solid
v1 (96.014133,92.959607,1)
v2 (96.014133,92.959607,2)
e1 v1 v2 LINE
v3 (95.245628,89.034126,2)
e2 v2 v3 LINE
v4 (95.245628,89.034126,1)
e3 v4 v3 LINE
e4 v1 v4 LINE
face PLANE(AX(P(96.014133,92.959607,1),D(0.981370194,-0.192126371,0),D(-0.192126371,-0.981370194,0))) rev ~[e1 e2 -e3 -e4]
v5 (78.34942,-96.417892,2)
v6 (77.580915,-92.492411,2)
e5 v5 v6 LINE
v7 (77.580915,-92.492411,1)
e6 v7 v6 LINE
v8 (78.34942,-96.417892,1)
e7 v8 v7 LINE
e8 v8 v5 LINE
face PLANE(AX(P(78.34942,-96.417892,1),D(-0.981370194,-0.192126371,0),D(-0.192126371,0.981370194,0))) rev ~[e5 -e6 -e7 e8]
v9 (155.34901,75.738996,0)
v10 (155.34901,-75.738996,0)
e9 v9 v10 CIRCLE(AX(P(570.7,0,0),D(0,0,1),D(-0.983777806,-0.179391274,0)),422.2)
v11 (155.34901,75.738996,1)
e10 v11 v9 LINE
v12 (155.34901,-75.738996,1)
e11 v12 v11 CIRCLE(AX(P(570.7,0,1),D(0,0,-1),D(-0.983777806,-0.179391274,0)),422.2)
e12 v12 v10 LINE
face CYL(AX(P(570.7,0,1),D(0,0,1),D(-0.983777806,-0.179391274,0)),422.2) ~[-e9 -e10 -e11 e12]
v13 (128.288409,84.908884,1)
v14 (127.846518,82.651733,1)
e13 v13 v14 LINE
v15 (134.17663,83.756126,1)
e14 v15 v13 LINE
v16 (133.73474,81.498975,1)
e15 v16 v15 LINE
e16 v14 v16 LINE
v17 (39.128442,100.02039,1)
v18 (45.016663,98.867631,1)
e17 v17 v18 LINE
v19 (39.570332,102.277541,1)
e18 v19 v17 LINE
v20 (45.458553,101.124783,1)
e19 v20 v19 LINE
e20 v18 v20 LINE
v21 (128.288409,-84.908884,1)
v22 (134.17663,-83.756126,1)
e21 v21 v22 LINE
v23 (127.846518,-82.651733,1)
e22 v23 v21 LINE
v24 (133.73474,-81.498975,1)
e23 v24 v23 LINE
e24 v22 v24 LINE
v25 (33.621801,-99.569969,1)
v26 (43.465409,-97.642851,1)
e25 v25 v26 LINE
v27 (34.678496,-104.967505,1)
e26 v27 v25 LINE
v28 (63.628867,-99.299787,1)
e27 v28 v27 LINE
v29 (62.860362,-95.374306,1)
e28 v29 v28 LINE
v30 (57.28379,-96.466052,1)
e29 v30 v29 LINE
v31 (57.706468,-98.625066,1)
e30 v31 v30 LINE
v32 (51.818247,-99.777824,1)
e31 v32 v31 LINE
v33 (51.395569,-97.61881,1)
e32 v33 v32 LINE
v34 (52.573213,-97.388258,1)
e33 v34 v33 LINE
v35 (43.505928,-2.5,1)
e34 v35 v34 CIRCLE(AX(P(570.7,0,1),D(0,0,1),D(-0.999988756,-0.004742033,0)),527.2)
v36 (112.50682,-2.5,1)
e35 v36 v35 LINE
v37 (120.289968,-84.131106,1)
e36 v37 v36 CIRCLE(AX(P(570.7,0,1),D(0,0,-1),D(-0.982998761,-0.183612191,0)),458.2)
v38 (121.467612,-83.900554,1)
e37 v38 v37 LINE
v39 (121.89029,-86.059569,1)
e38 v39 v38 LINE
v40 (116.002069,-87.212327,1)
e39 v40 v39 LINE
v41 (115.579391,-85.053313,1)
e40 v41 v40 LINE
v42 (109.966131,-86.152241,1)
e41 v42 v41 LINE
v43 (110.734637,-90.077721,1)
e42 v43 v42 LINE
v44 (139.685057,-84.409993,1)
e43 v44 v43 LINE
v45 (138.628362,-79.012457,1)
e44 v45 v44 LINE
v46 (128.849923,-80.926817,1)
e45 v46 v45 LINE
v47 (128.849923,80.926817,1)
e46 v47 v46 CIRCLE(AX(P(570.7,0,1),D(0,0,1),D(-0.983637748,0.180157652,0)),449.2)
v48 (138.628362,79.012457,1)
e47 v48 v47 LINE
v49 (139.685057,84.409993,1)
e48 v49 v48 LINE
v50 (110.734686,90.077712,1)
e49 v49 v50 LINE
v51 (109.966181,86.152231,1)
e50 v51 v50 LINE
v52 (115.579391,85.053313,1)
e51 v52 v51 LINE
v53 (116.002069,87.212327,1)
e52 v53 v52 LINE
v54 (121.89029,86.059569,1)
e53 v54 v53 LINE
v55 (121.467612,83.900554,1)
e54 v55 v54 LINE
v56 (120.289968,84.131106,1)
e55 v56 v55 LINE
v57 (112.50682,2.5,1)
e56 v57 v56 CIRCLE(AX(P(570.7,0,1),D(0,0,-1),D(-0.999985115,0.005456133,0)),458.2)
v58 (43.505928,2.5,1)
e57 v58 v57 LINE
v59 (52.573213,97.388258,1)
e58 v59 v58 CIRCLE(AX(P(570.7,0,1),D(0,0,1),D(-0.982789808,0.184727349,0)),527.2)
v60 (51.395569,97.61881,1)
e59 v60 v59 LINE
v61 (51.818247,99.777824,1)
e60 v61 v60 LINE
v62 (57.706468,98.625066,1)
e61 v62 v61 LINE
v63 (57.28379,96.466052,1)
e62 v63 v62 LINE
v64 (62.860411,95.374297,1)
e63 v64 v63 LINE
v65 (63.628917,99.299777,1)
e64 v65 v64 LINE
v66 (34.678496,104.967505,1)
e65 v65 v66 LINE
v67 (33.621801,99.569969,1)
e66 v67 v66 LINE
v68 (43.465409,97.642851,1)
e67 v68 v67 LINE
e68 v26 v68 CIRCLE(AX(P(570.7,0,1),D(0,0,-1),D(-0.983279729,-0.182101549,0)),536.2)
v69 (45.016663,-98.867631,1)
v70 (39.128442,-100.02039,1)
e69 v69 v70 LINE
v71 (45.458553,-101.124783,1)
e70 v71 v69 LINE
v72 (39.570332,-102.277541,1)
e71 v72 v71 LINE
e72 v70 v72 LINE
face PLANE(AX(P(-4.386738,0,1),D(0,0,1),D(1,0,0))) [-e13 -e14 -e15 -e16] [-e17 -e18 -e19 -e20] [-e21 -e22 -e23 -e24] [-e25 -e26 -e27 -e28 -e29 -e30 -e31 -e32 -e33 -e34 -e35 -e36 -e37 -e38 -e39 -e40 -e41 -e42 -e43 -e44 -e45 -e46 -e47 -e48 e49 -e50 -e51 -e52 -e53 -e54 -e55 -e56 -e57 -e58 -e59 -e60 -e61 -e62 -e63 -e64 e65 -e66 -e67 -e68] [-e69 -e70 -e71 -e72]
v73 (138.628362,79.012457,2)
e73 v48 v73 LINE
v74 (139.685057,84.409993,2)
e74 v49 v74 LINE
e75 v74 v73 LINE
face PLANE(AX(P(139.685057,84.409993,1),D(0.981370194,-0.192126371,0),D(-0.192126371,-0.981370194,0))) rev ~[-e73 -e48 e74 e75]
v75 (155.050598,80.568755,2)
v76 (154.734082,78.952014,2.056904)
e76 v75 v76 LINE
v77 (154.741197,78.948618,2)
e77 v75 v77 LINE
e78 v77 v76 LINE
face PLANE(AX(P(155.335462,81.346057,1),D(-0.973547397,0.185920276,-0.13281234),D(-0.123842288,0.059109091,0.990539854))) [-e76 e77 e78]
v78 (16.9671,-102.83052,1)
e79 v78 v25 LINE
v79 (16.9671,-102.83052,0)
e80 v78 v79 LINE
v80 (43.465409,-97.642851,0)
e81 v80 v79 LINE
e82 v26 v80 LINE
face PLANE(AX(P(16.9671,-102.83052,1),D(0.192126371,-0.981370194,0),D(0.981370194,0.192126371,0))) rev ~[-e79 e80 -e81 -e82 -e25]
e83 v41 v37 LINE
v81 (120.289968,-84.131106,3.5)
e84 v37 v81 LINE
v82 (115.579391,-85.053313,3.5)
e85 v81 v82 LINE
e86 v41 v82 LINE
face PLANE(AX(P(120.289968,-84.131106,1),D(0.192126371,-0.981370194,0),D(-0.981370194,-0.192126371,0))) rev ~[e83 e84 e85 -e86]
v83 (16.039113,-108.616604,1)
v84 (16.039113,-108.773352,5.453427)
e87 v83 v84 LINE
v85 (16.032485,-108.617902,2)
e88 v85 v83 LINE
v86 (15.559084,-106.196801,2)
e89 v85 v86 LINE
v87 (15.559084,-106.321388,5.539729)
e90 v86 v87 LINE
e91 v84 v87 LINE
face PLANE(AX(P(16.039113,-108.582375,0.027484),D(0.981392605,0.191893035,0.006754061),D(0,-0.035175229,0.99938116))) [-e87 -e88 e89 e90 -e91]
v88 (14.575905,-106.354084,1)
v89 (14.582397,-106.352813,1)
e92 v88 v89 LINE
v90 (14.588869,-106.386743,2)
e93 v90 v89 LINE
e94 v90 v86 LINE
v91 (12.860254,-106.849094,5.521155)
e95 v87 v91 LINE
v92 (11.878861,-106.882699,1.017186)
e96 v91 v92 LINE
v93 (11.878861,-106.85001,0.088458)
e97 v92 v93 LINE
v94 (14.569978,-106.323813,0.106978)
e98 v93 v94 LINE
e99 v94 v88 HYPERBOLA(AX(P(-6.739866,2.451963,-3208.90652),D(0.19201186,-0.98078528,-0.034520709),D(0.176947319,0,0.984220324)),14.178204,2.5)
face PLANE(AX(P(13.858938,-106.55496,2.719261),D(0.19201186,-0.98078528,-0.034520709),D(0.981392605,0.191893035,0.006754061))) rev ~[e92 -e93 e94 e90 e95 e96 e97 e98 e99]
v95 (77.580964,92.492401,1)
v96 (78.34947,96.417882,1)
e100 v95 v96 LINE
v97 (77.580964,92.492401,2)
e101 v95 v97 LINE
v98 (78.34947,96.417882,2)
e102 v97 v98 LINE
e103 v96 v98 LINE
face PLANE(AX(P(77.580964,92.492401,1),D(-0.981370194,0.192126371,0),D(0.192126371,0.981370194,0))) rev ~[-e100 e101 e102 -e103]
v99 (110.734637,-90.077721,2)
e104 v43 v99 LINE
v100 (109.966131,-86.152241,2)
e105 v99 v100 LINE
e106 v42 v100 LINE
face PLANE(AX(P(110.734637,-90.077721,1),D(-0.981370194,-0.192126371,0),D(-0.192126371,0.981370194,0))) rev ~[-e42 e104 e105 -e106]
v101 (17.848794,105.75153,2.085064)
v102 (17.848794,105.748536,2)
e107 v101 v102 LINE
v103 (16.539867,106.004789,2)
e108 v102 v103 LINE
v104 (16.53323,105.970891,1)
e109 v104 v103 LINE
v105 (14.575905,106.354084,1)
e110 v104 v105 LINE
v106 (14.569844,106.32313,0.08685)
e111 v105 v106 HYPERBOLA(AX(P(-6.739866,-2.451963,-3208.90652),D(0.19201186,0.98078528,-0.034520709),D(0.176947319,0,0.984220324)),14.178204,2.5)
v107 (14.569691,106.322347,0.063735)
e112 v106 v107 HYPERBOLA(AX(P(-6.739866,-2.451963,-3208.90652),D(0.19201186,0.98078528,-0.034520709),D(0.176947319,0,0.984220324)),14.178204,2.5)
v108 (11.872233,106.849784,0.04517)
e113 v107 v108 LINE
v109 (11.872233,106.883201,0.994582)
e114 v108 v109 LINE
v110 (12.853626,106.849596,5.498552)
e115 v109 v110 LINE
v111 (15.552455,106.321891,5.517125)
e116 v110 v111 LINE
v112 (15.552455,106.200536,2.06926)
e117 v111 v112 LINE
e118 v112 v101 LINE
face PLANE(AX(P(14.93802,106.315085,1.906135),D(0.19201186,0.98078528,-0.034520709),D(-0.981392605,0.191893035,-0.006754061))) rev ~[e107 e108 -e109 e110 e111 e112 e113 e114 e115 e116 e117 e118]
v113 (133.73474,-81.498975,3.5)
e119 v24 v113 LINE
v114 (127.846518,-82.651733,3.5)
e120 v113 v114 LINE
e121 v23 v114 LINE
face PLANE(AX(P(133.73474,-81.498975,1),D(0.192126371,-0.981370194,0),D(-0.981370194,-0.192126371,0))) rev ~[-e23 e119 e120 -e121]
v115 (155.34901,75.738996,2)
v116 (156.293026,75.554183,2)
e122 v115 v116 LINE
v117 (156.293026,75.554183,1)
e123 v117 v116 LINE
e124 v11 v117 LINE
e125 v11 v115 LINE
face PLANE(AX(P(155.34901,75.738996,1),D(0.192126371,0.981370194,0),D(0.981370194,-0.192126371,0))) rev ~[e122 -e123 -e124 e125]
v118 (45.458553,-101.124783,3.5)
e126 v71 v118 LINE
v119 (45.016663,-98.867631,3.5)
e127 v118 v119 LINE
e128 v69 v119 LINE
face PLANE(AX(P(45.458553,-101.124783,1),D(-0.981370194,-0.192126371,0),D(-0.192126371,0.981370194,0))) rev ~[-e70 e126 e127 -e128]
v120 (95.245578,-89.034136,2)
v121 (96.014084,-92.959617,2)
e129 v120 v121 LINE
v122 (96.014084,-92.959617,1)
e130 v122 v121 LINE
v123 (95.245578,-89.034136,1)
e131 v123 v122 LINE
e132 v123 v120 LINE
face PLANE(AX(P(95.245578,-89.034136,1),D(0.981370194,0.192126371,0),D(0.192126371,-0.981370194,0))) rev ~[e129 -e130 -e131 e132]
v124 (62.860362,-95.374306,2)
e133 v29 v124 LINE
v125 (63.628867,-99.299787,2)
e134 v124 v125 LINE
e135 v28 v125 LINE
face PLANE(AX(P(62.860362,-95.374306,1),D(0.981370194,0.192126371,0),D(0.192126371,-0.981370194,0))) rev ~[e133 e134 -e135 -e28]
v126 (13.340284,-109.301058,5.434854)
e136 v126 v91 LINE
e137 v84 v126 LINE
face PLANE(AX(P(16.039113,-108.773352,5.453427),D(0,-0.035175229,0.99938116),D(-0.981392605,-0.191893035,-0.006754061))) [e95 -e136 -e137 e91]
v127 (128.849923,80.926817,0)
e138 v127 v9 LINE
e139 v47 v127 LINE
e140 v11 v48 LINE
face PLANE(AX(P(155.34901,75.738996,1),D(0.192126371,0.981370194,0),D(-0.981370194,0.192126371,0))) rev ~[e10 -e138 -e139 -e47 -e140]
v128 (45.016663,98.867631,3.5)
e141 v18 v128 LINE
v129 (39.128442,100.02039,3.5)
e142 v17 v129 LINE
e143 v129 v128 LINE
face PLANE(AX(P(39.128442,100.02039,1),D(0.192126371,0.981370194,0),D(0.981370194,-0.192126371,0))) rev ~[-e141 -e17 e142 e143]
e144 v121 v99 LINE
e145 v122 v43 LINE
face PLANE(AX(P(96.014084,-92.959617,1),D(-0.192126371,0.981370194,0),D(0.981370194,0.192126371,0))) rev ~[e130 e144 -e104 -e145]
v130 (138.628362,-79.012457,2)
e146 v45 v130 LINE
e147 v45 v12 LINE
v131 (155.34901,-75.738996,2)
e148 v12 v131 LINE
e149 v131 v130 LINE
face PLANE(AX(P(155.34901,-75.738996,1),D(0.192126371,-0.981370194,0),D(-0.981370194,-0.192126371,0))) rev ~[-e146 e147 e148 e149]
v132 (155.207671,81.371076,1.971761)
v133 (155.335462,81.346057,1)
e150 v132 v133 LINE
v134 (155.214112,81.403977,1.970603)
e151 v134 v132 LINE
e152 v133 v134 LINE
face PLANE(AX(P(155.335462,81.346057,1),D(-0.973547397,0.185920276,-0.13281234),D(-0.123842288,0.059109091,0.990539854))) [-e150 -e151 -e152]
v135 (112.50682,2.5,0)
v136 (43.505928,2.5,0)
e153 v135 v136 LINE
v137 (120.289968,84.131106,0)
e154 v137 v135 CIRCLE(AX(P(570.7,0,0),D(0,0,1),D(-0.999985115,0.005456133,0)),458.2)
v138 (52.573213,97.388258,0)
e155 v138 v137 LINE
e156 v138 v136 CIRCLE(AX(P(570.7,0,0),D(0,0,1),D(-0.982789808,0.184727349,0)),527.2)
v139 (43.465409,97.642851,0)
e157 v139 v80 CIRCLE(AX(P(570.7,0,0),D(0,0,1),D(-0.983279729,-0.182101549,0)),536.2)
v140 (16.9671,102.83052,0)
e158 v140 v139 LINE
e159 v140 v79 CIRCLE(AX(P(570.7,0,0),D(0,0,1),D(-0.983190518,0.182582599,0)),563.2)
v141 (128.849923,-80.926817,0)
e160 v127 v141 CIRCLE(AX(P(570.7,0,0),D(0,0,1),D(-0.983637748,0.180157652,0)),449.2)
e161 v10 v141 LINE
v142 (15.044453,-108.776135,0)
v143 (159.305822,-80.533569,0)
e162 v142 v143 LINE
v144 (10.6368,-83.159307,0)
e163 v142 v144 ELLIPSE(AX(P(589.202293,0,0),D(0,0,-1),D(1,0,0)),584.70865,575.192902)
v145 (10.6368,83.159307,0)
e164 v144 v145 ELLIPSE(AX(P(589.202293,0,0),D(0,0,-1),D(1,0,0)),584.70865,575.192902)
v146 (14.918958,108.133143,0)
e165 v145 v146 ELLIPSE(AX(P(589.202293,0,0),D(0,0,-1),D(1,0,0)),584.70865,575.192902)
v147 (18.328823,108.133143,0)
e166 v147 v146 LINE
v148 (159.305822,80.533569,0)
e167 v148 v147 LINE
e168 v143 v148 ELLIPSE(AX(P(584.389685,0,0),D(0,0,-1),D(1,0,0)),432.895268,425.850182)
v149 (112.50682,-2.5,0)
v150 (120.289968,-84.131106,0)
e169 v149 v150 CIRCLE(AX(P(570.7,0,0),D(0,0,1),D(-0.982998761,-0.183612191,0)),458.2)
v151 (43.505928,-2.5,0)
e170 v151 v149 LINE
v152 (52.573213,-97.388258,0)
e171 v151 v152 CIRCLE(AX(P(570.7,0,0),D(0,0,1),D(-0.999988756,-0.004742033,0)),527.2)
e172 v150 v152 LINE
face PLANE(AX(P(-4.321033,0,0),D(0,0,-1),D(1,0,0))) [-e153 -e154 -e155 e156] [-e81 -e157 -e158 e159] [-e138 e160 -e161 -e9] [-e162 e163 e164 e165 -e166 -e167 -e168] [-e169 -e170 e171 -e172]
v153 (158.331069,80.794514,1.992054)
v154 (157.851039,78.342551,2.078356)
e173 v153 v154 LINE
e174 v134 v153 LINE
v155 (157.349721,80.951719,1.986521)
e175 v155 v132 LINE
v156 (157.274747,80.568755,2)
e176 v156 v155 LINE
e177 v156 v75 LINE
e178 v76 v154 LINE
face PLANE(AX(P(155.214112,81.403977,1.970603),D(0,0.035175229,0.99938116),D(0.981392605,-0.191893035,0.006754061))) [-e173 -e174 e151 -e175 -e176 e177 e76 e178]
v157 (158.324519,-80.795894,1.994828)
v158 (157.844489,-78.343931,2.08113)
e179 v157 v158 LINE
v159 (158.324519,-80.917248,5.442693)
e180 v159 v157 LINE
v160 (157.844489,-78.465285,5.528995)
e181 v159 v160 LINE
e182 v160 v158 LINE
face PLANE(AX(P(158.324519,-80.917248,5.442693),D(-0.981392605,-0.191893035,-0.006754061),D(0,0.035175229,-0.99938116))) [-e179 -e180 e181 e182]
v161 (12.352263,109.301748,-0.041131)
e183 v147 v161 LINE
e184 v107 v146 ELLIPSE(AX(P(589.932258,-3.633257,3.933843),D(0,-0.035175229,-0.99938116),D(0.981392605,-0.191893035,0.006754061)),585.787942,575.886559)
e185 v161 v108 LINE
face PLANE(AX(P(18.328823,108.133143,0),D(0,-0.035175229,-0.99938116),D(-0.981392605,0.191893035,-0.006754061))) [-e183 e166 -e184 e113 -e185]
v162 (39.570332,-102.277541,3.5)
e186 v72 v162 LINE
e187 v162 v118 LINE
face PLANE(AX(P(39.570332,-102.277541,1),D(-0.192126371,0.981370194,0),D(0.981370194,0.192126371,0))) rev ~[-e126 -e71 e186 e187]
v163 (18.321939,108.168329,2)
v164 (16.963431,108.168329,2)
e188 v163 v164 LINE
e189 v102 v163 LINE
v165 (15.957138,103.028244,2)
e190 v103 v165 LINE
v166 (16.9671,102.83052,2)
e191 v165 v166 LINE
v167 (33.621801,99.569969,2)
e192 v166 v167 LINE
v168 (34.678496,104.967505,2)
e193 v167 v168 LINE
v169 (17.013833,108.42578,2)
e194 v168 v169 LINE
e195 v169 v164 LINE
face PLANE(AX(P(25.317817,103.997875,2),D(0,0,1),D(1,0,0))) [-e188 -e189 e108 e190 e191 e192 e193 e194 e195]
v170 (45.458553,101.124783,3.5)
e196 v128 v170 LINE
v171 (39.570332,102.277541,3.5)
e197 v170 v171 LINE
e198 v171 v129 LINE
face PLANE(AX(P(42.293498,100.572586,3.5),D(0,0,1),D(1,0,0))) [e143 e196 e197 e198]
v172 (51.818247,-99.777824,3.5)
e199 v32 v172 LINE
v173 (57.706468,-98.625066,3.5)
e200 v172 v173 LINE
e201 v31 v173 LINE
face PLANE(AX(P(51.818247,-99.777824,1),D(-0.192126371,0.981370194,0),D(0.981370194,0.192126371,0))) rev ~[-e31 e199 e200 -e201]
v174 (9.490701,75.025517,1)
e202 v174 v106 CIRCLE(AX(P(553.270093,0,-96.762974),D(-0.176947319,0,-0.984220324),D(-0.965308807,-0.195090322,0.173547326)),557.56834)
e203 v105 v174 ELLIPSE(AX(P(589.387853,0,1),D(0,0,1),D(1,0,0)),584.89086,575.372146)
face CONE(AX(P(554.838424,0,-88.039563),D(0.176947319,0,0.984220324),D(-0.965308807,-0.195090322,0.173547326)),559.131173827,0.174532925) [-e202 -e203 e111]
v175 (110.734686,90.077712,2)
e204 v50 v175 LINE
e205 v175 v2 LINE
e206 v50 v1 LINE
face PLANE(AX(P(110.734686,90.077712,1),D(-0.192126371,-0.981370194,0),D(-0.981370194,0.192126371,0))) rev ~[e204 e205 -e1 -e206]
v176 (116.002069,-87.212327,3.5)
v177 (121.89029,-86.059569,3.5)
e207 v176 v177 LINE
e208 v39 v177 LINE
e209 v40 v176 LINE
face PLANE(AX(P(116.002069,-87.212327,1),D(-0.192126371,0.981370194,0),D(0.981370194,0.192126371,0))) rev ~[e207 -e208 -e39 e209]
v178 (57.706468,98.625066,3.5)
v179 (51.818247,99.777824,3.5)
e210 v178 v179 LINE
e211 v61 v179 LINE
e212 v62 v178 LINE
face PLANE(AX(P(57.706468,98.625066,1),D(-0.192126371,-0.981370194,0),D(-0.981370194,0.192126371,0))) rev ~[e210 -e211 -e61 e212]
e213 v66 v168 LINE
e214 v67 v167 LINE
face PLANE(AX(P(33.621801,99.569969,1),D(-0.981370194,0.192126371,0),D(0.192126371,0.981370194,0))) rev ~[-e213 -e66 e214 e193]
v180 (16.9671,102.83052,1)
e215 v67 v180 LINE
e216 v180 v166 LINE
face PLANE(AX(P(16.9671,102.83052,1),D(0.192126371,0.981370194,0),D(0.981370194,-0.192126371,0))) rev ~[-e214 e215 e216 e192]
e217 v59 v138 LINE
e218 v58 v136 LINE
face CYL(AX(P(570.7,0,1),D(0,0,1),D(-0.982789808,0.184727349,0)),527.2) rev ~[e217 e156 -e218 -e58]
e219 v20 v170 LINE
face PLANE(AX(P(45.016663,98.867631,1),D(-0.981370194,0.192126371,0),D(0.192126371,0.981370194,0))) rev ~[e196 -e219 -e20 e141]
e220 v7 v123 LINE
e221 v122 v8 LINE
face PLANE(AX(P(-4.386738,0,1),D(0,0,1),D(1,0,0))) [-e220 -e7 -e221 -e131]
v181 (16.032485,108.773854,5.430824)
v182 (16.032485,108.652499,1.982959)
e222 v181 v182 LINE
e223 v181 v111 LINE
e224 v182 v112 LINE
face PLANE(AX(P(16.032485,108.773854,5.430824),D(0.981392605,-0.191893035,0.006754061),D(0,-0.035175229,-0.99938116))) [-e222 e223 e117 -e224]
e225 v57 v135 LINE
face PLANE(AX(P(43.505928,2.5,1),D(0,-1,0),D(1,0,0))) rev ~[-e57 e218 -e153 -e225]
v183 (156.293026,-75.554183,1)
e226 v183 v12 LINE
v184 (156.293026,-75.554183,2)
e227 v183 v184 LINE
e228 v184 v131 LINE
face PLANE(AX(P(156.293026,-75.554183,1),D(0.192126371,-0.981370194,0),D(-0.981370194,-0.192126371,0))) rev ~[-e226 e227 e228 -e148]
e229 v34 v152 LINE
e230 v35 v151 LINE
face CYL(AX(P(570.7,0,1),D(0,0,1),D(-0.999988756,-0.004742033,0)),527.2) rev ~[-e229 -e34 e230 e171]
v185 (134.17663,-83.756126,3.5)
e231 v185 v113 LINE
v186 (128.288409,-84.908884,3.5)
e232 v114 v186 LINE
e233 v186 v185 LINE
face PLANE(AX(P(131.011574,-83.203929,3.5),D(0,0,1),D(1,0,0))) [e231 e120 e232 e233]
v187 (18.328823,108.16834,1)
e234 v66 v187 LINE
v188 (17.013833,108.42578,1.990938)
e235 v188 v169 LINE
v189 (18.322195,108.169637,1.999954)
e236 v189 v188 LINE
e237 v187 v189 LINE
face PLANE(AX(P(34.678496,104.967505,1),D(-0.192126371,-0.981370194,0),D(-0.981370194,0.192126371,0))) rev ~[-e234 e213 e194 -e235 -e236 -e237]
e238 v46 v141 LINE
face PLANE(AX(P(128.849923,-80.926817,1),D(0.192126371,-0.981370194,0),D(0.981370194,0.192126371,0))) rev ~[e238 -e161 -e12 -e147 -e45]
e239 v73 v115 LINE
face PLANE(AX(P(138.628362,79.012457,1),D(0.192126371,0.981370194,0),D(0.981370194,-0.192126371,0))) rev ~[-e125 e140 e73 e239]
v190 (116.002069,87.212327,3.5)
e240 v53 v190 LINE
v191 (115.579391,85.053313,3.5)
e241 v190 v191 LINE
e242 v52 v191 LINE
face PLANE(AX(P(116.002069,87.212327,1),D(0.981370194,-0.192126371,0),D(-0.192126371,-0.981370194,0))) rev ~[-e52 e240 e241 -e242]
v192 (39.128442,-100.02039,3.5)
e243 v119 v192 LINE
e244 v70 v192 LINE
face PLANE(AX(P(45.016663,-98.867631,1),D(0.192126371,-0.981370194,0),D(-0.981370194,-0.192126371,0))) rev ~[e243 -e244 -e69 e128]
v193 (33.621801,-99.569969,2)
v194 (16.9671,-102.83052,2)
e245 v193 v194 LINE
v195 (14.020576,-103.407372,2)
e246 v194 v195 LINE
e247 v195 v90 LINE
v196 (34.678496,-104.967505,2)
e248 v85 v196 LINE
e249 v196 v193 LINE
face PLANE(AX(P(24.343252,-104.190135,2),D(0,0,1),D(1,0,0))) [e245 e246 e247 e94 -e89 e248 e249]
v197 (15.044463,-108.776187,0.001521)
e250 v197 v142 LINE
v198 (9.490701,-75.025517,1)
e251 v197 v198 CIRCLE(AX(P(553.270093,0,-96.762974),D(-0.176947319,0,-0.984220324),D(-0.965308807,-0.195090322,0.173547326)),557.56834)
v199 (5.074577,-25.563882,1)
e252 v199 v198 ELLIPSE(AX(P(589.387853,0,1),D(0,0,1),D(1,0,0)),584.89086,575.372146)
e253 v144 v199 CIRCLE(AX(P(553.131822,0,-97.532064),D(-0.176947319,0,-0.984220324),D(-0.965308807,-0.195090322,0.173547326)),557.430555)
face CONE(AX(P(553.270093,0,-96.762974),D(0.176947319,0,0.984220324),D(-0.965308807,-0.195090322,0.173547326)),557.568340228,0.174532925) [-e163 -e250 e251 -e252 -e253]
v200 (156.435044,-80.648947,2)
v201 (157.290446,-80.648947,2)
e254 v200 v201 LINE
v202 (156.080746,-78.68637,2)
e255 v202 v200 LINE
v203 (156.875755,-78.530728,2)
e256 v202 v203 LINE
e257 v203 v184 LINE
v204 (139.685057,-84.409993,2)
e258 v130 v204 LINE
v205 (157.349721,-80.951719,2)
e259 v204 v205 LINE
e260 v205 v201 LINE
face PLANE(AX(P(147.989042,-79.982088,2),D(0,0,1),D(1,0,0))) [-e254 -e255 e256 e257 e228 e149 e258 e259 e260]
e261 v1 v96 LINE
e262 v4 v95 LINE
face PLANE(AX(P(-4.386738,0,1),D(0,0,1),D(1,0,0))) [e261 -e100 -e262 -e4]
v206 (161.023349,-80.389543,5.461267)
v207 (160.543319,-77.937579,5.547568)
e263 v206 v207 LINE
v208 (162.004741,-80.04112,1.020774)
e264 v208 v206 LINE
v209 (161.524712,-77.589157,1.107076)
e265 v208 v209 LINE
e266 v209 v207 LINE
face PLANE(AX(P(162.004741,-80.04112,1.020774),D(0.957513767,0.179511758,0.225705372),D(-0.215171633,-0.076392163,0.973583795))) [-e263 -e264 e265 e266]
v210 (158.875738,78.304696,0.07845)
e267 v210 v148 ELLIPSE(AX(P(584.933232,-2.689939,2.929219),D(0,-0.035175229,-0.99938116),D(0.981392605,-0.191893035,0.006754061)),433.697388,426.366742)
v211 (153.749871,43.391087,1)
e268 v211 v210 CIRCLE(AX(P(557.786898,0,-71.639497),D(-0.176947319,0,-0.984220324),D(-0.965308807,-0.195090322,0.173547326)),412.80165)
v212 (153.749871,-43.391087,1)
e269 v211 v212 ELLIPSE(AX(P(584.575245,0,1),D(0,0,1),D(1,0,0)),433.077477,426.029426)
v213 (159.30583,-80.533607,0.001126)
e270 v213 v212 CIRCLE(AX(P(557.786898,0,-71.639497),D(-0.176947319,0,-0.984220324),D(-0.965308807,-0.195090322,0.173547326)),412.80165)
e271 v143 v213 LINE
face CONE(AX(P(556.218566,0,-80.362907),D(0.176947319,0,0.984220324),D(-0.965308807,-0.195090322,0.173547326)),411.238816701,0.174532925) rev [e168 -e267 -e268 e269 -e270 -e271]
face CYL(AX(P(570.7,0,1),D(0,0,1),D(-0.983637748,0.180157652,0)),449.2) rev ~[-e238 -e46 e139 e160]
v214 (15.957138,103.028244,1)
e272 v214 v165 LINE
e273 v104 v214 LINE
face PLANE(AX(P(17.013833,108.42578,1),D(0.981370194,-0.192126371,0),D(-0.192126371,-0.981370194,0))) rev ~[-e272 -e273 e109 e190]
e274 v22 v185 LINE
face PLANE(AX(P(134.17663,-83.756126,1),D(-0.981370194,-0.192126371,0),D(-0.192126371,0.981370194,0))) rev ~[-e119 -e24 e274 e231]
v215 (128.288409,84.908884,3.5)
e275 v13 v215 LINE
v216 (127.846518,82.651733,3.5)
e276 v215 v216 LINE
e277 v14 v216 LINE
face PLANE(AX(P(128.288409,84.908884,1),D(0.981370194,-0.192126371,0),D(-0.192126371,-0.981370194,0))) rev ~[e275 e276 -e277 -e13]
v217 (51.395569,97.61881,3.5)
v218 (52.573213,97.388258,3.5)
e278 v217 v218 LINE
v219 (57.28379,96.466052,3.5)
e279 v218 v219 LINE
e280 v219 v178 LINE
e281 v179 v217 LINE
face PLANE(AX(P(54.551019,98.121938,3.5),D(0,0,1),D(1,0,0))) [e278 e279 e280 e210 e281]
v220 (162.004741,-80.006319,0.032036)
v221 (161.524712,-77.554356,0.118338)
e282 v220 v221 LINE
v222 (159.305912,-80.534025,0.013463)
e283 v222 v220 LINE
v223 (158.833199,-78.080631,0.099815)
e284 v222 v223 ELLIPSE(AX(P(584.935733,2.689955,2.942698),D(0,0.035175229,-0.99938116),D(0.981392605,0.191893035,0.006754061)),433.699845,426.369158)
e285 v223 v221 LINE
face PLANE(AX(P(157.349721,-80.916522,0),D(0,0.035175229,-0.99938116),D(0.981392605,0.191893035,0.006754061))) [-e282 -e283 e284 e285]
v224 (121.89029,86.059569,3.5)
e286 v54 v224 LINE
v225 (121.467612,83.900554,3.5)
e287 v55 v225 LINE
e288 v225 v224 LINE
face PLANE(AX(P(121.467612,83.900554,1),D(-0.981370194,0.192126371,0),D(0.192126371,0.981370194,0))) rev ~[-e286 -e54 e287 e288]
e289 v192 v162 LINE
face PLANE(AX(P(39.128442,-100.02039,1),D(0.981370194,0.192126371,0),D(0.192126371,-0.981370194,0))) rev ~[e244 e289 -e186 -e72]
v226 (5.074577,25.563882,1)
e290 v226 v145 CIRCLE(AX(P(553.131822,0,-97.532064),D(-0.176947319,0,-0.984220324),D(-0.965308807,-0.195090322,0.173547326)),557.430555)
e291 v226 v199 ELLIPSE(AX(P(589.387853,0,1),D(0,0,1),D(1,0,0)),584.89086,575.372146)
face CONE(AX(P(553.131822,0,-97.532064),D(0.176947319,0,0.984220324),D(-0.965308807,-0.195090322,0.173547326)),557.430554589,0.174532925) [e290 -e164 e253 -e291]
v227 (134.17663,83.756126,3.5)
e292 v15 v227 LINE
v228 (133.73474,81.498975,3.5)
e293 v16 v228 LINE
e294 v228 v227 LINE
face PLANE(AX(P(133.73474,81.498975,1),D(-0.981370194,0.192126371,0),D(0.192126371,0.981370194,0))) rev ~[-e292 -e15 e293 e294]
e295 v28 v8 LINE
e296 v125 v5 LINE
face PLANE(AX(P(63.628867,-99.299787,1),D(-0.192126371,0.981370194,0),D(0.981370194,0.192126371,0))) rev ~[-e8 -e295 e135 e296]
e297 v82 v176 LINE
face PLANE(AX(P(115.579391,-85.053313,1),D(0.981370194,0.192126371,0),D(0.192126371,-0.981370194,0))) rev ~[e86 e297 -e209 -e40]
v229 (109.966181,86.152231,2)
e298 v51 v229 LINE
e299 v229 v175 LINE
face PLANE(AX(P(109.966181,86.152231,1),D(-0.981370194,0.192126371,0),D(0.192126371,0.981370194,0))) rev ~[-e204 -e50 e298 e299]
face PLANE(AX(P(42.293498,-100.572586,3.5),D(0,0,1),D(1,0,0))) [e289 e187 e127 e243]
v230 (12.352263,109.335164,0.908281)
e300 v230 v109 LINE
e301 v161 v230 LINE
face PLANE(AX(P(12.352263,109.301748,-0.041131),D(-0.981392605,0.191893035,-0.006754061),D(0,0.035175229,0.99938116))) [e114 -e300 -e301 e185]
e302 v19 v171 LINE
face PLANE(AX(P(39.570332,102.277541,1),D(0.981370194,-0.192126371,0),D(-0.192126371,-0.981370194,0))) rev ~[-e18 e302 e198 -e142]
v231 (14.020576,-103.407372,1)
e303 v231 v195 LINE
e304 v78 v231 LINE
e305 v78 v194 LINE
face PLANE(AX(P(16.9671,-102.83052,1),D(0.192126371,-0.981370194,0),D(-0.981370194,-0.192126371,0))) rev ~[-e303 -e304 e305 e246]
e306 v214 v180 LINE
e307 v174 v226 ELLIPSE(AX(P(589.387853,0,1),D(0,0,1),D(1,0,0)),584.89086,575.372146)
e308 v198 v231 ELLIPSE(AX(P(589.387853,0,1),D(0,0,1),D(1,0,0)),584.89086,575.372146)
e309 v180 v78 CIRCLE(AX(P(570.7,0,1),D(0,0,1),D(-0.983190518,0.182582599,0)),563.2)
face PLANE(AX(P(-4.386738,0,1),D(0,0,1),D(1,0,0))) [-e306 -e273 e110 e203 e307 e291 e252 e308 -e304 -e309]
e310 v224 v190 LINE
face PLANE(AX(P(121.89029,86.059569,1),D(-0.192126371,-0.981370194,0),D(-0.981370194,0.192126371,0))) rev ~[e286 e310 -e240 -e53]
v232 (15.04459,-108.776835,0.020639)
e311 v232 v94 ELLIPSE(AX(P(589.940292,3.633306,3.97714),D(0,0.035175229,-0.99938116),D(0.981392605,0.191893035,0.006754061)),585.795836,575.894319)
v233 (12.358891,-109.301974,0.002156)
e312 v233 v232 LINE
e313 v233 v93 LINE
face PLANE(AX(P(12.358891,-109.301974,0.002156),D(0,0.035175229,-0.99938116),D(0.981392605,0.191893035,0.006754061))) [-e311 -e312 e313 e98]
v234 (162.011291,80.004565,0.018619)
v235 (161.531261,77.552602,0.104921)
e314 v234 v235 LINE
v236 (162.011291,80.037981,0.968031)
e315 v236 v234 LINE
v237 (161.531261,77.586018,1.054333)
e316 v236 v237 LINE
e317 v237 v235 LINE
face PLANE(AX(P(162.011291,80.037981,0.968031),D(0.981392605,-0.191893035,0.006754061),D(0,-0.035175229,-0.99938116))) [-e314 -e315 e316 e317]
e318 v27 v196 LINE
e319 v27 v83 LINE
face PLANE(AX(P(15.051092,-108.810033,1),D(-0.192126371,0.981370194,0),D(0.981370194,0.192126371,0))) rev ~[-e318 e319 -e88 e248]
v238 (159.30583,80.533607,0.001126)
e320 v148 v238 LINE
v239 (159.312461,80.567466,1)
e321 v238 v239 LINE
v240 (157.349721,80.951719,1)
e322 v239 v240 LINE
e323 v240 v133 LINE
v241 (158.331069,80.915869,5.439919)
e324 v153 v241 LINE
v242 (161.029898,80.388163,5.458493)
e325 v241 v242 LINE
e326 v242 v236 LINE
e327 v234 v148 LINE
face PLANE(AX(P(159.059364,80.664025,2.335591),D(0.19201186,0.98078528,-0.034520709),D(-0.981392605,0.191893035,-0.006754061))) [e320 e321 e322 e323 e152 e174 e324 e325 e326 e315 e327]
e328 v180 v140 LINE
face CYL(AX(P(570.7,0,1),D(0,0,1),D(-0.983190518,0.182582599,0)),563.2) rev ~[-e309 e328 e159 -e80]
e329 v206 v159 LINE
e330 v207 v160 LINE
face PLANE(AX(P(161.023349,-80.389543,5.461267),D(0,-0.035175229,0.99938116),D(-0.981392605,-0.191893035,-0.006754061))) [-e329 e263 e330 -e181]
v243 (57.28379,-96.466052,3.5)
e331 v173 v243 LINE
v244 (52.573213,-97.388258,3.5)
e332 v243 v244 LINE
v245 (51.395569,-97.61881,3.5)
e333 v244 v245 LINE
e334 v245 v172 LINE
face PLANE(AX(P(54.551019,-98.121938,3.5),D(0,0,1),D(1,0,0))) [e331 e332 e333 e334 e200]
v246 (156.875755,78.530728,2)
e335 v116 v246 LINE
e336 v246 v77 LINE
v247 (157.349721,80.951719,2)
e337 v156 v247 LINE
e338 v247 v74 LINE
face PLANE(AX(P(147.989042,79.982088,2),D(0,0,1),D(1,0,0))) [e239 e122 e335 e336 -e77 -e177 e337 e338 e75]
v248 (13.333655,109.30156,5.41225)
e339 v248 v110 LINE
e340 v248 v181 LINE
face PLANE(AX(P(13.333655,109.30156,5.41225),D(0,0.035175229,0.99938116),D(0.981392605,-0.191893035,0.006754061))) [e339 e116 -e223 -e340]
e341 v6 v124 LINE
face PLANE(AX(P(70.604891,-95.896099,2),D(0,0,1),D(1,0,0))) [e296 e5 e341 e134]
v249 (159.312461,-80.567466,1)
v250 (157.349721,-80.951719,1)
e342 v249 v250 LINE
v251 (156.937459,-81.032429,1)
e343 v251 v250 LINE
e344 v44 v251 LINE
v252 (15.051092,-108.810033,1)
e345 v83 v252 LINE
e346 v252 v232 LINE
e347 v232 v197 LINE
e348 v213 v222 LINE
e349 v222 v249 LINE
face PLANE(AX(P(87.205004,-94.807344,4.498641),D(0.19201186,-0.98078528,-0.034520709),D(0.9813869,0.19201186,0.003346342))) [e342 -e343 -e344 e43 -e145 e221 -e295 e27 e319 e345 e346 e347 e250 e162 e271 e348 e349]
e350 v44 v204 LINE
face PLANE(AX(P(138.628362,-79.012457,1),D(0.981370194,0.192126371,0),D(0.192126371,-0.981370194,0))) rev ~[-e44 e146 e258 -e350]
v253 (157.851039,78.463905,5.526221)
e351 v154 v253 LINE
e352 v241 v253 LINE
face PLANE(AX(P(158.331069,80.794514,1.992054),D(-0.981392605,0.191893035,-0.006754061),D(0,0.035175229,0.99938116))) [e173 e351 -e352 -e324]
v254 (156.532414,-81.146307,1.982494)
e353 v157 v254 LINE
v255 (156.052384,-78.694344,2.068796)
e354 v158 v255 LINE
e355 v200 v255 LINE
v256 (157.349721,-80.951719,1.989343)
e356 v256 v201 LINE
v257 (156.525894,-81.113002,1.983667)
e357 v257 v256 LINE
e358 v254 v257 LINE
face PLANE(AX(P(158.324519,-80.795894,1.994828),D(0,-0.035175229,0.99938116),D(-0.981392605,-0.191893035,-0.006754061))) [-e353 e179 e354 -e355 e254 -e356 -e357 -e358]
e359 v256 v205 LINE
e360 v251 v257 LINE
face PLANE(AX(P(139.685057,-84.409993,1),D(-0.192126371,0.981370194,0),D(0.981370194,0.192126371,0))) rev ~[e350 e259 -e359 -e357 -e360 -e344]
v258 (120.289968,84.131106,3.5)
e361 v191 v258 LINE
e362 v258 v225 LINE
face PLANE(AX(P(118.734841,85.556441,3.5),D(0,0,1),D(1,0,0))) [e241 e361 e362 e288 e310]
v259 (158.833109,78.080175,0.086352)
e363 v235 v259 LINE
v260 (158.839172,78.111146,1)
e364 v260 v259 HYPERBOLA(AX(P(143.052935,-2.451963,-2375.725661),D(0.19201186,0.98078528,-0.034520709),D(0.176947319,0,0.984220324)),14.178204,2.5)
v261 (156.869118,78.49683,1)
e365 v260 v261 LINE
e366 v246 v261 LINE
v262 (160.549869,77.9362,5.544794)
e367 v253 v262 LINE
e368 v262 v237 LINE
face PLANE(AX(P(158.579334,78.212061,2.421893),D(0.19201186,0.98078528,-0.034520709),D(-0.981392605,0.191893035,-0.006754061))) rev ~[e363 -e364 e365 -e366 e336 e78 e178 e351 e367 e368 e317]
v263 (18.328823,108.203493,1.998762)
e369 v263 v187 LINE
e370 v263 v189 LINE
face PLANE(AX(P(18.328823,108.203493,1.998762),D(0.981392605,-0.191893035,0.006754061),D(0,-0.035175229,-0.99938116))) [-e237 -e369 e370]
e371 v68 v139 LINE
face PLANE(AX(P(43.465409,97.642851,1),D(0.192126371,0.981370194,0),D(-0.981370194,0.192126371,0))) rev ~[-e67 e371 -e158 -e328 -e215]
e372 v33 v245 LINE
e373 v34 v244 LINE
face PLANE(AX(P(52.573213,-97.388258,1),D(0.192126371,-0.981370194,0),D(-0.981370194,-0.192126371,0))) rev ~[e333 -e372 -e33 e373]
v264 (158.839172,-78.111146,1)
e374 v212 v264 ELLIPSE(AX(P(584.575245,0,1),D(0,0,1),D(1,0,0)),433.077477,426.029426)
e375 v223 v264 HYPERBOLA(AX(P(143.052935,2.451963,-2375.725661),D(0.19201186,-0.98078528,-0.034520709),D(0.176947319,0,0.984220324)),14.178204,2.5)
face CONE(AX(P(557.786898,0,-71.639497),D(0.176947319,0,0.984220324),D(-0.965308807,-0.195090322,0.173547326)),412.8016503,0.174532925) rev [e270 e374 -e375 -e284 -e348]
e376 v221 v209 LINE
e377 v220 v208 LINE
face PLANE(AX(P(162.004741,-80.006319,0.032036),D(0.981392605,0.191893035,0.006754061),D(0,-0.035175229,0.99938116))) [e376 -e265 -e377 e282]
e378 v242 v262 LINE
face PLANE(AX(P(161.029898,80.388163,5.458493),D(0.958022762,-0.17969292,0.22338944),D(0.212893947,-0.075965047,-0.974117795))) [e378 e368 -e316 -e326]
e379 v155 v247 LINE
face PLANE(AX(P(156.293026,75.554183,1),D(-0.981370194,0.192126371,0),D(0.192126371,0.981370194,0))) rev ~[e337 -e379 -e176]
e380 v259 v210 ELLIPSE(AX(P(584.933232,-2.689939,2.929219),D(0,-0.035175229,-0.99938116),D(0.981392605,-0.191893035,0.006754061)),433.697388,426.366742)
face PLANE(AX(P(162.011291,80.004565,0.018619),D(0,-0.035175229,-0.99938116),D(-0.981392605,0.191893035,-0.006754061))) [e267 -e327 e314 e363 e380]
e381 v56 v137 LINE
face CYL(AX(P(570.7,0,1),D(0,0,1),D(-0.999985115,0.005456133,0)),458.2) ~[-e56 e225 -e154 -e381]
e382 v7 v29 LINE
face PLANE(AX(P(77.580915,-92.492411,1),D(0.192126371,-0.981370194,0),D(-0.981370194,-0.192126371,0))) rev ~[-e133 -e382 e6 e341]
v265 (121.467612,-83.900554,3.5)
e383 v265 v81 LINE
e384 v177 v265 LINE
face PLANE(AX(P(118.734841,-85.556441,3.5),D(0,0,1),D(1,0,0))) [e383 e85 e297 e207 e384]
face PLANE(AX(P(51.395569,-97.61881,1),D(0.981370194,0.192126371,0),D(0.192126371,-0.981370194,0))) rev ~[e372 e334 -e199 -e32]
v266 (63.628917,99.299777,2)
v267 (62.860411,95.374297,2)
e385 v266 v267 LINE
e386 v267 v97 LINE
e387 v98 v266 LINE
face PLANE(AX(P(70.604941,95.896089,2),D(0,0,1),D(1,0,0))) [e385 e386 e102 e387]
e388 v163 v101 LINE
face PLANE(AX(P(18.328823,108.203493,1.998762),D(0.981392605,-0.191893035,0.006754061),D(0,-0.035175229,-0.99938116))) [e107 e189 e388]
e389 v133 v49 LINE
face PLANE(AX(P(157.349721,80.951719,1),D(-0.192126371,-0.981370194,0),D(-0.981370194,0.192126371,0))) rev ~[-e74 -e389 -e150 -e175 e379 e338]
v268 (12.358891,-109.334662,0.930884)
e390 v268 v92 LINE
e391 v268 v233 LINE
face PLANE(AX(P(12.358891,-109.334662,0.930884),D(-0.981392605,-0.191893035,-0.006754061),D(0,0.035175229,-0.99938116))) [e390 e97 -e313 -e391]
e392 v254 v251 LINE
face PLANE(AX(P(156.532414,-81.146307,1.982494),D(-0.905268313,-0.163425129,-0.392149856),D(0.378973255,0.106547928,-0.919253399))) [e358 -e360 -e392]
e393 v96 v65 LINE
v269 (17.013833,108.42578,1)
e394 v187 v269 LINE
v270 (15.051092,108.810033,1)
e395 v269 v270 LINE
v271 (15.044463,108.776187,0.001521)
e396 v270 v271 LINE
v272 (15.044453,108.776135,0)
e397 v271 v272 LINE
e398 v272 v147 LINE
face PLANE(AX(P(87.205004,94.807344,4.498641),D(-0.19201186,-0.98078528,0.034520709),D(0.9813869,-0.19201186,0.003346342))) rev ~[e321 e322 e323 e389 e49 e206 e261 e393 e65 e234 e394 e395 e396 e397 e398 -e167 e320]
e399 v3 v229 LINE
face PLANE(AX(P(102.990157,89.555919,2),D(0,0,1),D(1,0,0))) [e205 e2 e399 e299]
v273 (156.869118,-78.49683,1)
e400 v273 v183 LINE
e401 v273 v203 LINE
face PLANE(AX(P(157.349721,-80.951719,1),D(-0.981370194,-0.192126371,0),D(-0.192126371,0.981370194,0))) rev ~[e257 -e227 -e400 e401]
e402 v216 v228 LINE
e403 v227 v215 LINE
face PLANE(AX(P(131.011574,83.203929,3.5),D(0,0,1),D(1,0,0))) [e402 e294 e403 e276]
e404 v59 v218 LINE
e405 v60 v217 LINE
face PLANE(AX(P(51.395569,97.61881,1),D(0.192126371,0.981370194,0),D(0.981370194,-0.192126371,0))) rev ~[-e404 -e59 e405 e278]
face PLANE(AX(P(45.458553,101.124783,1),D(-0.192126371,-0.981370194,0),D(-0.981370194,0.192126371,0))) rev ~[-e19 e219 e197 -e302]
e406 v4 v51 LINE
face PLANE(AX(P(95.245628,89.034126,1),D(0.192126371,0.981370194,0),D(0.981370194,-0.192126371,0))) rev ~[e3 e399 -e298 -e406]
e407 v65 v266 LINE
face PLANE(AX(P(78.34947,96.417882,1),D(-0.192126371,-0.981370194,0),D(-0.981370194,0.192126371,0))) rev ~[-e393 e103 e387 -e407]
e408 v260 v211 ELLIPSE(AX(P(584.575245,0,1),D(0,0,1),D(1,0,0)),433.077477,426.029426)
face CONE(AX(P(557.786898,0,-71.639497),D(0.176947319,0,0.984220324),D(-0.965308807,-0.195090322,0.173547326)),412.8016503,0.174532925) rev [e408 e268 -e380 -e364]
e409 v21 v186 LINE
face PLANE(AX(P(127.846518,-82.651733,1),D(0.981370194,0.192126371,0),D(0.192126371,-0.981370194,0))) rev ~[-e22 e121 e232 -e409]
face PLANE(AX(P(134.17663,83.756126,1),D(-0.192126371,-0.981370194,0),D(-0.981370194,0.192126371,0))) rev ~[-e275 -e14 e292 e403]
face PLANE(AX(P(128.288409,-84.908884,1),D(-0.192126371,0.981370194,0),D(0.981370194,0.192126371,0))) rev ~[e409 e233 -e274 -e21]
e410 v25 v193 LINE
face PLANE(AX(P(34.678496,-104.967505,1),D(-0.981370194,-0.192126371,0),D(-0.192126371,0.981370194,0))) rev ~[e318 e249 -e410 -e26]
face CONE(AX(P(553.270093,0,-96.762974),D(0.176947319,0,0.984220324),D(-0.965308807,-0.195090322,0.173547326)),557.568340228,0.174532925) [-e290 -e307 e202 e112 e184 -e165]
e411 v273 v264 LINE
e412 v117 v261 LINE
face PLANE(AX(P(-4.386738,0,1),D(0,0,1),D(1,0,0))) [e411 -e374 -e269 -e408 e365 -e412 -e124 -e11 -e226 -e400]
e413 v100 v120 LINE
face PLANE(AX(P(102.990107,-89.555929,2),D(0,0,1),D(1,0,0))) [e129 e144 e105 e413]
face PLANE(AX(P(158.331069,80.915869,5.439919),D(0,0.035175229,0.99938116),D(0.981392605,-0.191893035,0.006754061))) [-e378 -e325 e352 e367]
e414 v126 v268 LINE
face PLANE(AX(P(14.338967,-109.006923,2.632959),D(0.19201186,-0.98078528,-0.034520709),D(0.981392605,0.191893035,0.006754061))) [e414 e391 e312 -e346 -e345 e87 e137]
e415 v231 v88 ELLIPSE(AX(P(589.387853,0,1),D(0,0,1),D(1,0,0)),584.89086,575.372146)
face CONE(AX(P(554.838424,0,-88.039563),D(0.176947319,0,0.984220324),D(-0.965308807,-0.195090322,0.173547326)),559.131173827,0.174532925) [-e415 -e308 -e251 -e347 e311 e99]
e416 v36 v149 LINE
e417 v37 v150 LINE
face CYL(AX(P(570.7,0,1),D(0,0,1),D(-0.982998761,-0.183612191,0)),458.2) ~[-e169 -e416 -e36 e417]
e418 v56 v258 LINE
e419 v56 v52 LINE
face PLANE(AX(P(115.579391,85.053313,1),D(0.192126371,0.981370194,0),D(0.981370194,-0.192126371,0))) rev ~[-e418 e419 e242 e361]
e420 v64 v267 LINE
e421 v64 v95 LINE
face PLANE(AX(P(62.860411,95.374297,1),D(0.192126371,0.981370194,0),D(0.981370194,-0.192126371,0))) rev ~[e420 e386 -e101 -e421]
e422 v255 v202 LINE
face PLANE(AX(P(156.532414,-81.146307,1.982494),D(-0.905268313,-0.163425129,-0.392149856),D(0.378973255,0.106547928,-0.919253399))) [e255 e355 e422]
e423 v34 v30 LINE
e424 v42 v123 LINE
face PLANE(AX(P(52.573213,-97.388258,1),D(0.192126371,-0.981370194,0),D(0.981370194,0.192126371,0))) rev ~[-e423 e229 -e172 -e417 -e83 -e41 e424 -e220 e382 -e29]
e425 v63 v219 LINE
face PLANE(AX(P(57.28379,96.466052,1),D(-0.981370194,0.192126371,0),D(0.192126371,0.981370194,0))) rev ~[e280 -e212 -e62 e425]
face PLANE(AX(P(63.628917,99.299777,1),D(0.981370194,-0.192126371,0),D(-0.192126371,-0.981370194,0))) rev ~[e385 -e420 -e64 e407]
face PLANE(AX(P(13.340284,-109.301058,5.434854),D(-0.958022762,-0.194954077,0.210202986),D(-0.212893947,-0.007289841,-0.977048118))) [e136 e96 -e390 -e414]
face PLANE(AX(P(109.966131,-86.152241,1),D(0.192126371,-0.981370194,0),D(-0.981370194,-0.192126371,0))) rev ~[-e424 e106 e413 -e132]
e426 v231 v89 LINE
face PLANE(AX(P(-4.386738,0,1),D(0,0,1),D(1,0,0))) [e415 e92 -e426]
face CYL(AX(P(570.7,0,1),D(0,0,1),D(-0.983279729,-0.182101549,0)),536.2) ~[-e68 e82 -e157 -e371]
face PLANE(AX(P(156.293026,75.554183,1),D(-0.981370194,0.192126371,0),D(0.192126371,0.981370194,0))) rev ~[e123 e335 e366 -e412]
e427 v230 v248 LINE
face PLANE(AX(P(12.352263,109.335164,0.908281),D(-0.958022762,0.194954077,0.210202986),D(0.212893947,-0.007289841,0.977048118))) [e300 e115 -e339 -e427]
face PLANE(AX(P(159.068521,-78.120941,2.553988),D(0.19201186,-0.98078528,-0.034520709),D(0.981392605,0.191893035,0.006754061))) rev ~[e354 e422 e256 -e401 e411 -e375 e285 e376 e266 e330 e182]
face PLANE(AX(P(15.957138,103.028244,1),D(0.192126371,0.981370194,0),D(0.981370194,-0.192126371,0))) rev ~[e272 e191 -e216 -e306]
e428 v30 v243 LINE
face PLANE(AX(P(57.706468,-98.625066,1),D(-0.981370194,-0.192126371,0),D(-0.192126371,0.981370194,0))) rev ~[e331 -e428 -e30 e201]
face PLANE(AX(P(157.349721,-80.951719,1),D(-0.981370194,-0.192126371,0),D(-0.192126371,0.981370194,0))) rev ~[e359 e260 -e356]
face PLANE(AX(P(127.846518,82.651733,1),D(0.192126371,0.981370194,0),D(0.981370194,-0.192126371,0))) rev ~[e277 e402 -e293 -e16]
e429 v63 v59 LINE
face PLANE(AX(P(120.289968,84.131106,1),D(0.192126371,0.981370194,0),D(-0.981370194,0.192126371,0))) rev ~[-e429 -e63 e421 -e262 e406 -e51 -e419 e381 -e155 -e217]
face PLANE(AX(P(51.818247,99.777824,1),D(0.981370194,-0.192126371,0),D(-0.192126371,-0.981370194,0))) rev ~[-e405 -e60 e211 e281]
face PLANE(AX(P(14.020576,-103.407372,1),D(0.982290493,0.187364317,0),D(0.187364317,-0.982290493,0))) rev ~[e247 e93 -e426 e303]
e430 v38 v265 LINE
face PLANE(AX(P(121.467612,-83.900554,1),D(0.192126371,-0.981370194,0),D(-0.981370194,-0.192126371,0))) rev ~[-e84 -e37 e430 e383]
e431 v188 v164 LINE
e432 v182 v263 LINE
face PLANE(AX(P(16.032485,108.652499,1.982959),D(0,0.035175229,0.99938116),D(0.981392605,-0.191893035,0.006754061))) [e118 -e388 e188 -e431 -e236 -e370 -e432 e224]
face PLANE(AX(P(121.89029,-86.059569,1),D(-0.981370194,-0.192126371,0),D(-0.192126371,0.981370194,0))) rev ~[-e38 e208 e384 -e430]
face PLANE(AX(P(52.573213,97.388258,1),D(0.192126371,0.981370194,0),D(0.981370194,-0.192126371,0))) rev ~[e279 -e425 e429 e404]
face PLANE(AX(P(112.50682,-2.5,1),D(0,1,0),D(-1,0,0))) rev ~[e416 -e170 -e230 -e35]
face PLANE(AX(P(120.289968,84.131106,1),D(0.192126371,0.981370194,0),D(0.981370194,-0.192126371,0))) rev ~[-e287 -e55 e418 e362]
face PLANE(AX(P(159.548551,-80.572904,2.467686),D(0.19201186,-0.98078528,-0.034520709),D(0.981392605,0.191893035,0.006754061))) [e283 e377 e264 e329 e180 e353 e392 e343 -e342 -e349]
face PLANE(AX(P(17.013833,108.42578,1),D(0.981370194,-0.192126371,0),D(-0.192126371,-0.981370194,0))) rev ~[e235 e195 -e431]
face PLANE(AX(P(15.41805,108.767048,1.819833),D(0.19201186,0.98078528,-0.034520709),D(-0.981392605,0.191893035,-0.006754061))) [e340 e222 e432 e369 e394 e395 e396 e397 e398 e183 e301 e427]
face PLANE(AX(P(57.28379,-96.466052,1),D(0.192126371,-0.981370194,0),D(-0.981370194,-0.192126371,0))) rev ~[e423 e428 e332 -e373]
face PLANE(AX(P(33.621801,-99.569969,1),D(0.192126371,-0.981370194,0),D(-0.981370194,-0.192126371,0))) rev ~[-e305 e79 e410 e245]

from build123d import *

# Parameters (mm, degrees)
F1_ANGLE_BACK = 11.25
F1_ANGLE      = 22.5
F2_W          = 174.6602954563
F2_H          = 13.9838710204
F2_W_2        = 174.5945907282
F2_H_2        = 12.7738052979
F3_DEPTH      = 125
F5_DEPTH      = 1.001
F7_DEPTH      = 2.5
F9_DEPTH      = 1
F11_DEPTH     = 2.5
F13_DEPTH     = 2.5


with BuildPart() as f1:
    # F0 (on Front) → F1 (revolve)
    with BuildSketch(Plane.XZ, mode=Mode.PRIVATE) as f1_sk:
        Polygon((4.5, 1.8972494266), (151.4991241063, 1.4046487898), (151.5292833394, 10.4045982575), (4.530159233, 10.8971988943), align=None)
        Polygon((151.4689648733, -7.5953006778), (151.4991241063, 1.4046487898), (4.5, 1.8972494266), (4.4973410418, 1.1037780134), (51.0110905605, -7.2586618498), align=None)
        Polygon((4.469840767, -7.102700041), (51.0110905605, -7.2586618498), (4.4973410418, 1.1037780134), align=None)
    revolve(f1_sk.sketch.rotate(Axis((561.8991869329, 0, -48.7660320647), (-0.176947319, 0, -0.9842203241)), -F1_ANGLE_BACK), axis=Axis((561.8991869329, 0, -48.7660320647), (-0.176947319, 0, -0.9842203241)), revolution_arc=F1_ANGLE)

    # F2 (on Front) → F3 (cut, symmetric)
    with BuildSketch(Plane.XZ):
        with Locations((82.9434095772, 7.9919355102)):
            Rectangle(F2_W, F2_H)
        with Locations((82.9762619412, -6.386902649)):
            Rectangle(F2_W_2, F2_H_2)
    extrude(amount=F3_DEPTH, both=True, mode=Mode.SUBTRACT)

    # F4 (on face) → F5 (cut, through all)
    with BuildSketch(Plane.XY.offset(1)):
        with BuildLine():
            Line((43.4654092359, 97.642850746), (16.9671003359, 102.8305199324))
            ThreePointArc((16.9671003359, 102.8305199324), (7.5, 0), (16.9671003359, -102.8305199324))
            Line((16.9671003359, -102.8305199324), (43.4654092359, -97.642850746))
            ThreePointArc((43.4654092359, -97.642850746), (34.5, 0), (43.4654092359, 97.642850746))
        make_face()
        with BuildLine():
            Line((120.2899679019, 84.1311059323), (52.5732132725, 97.3882584065))
            ThreePointArc((52.5732132725, 97.3882584065), (45.8906345723, 50.1494761623), (43.5059275751, 2.5))
            Line((43.5059275751, 2.5), (112.5068202166, 2.5))
            ThreePointArc((112.5068202166, 2.5), (114.5685951129, 43.4900158167), (120.2899679019, 84.1311059323))
        make_face()
        with BuildLine():
            Line((112.5068202166, -2.5), (43.5059275751, -2.5))
            ThreePointArc((43.5059275751, -2.5), (45.8906345723, -50.1494761623), (52.5732132725, -97.3882584065))
            Line((52.5732132725, -97.3882584065), (120.2899679019, -84.1311059323))
            ThreePointArc((120.2899679019, -84.1311059323), (114.5685951129, -43.4900158167), (112.5068202166, -2.5))
        make_face()
        with BuildLine():
            Line((155.3490104822, 75.7389959439), (128.8499233765, 80.9268174824))
            ThreePointArc((128.8499233765, 80.9268174824), (121.5, 0), (128.8499233765, -80.9268174824))
            Line((128.8499233765, -80.9268174824), (155.3490104822, -75.7389959439))
            ThreePointArc((155.3490104822, -75.7389959439), (148.5, 0), (155.3490104822, 75.7389959439))
        make_face()
    extrude(amount=-F5_DEPTH, mode=Mode.SUBTRACT)

    # F6 (on face) → F7 (join)
    with BuildSketch(Plane.XY.offset(1)):
        Polygon((45.0166627785, 98.8676314601), (45.4585534309, 101.1247829063), (39.5703322667, 102.2775411299), (39.1284416144, 100.0203896837), align=None)
        Polygon((52.5732132725, 97.3882584065), (57.2837902038, 96.4660518276), (57.7064682191, 98.6250662544), (51.818247055, 99.777824478), (51.3955690397, 97.6188100512), align=None)
        Polygon((116.0020689859, 87.2123269381), (115.5793909706, 85.0533125112), (120.2899679019, 84.1311059323), (121.4676121347, 83.9005542876), (121.8902901501, 86.0595687145), align=None)
        Polygon((128.2884090483, 84.908884325), (127.8465183959, 82.6517328787), (133.7347395601, 81.4989746551), (134.1766302124, 83.7561261014), align=None)
        Polygon((120.2899679019, -84.1311059323), (115.5793909706, -85.0533125112), (116.0020689859, -87.2123269381), (121.8902901501, -86.0595687145), (121.4676121347, -83.9005542876), align=None)
        Polygon((133.7347395601, -81.4989746551), (127.8465183959, -82.6517328787), (128.2884090483, -84.908884325), (134.1766302124, -83.7561261014), align=None)
        Polygon((45.4585534309, -101.1247829063), (45.0166627785, -98.8676314601), (39.1284416144, -100.0203896837), (39.5703322667, -102.2775411299), align=None)
        Polygon((57.7064682191, -98.6250662544), (57.2837902038, -96.4660518276), (52.5732132725, -97.3882584065), (51.3955690397, -97.6188100512), (51.818247055, -99.777824478), align=None)
    extrude(amount=F7_DEPTH)

    # F8 (on face) → F9 (join)
    with BuildSketch(Plane.XY.offset(1)):
        Polygon((34.6784961674, 104.9675053569), (17.0138326749, 108.4257800277), (15.9571376366, 103.0282439606), (16.9671003359, 102.8305199324), (33.6218011291, 99.5699692898), align=None)
        Polygon((78.3494698015, 96.4178818652), (63.6289168911, 99.2997774242), (62.8604114087, 95.3742966481), (77.5809643191, 92.4924010891), align=None)
        Polygon((110.7346862043, 90.0777116354), (96.0141332939, 92.9596071944), (95.2456278115, 89.0341264183), (109.9661807219, 86.1522308593), align=None)
        Polygon((157.3497208298, 80.9517187405), (139.6850573373, 84.4099934113), (138.628362299, 79.0124573441), (155.3490104822, 75.7389959439), (156.2930257915, 75.5541826733), align=None)
        Polygon((156.2930257915, -75.5541826733), (155.3490104822, -75.7389959439), (138.628362299, -79.0124573441), (139.6850573373, -84.4099934113), (157.3497208298, -80.9517187405), align=None)
        Polygon((95.2455782208, -89.0341361269), (96.0140837032, -92.959616903), (110.7346366136, -90.077721344), (109.9661311312, -86.1522405679), align=None)
        Polygon((62.860361818, -95.3743063567), (63.6288673004, -99.2997871328), (78.3494202108, -96.4178915738), (77.5809147284, -92.4924107977), align=None)
        Polygon((16.9671003359, -102.8305199324), (14.0205764212, -103.407371511), (15.0510922869, -108.8100327689), (34.6784961674, -104.9675053569), (33.6218011291, -99.5699692898), align=None)
    extrude(amount=F9_DEPTH)

    # F10 (on face) → F11 (join)
    with BuildSketch(Plane(origin=(21.0396507867, -107.4692979953, -3.7825979687), x_dir=(0.9813926052, 0.1918930354, 0.0067540611), z_dir=(0.19201186, -0.9807852804, -0.0345207094))):
        Polygon((-8.8453486731, 3.8468765561), (-6.1087279224, 3.8468765561), (-6.1021027342, 4.826798959), (-5.0953486731, 4.81999507), (-5.0953486731, 5.8261801192), (-5.0953486731, 9.2761801192), (-7.8453486731, 9.2761801192), (-8.8453486731, 4.7761801192), align=None)
        Polygon((-6.1021027342, 4.826798959), (-6.1087279224, 3.8468765561), (-5.0953486731, 3.8468765561), (-5.0953486731, 4.81999507), align=None)
        Polygon((140.8944898216, 3.8333602109), (140.8878160856, 2.8462571659), (143.6378160856, 2.8462571659), (143.6378160856, 3.835607484), (142.6378160856, 8.285607484), (139.8878160856, 8.285607484), (139.8878160856, 4.835607484), (138.0617320538, 4.835607484), (138.474456915, 3.8497153822), (138.8945354939, 3.846876389), align=None)
        Polygon((138.8945354939, 2.8462571659), (140.8878160856, 2.8462571659), (140.8944898216, 3.8333602109), (138.8945354939, 3.846876389), (138.474456915, 3.8497153822), align=None)
    extrude(amount=-F11_DEPTH)

    # F12 (on face) → F13 (join)
    with BuildSketch(Plane(origin=(21.0396507867, 107.4692979953, -3.7825979687), x_dir=(-0.9813926052, 0.1918930354, -0.0067540611), z_dir=(0.19201186, 0.9807852804, -0.0345207094))):
        Polygon((6.1088675431, 3.8262254542), (2.7622254557, 3.8036080325), (4.8167226223, 3.8036080325), (6.1021027342, 3.8036080325), (8.8521027342, 3.8036080325), (8.8521027342, 4.7536080325), (7.8521027342, 9.2536080325), (5.1021027342, 9.2536080325), (5.1021027342, 5.8036080325), (2.7622254557, 5.8036080325), (2.7622254557, 4.8042272555), (4.1021484065, 4.8132827809), (6.1021027342, 4.826798959), align=None)
        Polygon((2.7622254557, 4.8042272555), (2.7622254557, 3.8036080325), (6.1088675431, 3.8262254542), (6.1021027342, 4.826798959), (4.1021484065, 4.8132827809), align=None)
        Polygon((-143.6444898216, 2.832786706), (-140.8877250128, 2.832786706), (-140.8944898216, 3.8333602109), (-138.8945354939, 3.846876389), (-136.8420855995, 3.8607473449), (-136.7184351443, 4.832786706), (-139.8944898216, 4.832786706), (-139.8944898216, 8.282786706), (-142.6444898216, 8.282786706), (-143.6444898216, 3.782786706), align=None)
        Polygon((-140.8944898216, 3.8333602109), (-140.8877250128, 2.832786706), (-136.969481142, 2.8592671517), (-136.8420855995, 3.8607473449), (-138.8945354939, 3.846876389), align=None)
    extrude(amount=-F13_DEPTH)


solid = f1.part
